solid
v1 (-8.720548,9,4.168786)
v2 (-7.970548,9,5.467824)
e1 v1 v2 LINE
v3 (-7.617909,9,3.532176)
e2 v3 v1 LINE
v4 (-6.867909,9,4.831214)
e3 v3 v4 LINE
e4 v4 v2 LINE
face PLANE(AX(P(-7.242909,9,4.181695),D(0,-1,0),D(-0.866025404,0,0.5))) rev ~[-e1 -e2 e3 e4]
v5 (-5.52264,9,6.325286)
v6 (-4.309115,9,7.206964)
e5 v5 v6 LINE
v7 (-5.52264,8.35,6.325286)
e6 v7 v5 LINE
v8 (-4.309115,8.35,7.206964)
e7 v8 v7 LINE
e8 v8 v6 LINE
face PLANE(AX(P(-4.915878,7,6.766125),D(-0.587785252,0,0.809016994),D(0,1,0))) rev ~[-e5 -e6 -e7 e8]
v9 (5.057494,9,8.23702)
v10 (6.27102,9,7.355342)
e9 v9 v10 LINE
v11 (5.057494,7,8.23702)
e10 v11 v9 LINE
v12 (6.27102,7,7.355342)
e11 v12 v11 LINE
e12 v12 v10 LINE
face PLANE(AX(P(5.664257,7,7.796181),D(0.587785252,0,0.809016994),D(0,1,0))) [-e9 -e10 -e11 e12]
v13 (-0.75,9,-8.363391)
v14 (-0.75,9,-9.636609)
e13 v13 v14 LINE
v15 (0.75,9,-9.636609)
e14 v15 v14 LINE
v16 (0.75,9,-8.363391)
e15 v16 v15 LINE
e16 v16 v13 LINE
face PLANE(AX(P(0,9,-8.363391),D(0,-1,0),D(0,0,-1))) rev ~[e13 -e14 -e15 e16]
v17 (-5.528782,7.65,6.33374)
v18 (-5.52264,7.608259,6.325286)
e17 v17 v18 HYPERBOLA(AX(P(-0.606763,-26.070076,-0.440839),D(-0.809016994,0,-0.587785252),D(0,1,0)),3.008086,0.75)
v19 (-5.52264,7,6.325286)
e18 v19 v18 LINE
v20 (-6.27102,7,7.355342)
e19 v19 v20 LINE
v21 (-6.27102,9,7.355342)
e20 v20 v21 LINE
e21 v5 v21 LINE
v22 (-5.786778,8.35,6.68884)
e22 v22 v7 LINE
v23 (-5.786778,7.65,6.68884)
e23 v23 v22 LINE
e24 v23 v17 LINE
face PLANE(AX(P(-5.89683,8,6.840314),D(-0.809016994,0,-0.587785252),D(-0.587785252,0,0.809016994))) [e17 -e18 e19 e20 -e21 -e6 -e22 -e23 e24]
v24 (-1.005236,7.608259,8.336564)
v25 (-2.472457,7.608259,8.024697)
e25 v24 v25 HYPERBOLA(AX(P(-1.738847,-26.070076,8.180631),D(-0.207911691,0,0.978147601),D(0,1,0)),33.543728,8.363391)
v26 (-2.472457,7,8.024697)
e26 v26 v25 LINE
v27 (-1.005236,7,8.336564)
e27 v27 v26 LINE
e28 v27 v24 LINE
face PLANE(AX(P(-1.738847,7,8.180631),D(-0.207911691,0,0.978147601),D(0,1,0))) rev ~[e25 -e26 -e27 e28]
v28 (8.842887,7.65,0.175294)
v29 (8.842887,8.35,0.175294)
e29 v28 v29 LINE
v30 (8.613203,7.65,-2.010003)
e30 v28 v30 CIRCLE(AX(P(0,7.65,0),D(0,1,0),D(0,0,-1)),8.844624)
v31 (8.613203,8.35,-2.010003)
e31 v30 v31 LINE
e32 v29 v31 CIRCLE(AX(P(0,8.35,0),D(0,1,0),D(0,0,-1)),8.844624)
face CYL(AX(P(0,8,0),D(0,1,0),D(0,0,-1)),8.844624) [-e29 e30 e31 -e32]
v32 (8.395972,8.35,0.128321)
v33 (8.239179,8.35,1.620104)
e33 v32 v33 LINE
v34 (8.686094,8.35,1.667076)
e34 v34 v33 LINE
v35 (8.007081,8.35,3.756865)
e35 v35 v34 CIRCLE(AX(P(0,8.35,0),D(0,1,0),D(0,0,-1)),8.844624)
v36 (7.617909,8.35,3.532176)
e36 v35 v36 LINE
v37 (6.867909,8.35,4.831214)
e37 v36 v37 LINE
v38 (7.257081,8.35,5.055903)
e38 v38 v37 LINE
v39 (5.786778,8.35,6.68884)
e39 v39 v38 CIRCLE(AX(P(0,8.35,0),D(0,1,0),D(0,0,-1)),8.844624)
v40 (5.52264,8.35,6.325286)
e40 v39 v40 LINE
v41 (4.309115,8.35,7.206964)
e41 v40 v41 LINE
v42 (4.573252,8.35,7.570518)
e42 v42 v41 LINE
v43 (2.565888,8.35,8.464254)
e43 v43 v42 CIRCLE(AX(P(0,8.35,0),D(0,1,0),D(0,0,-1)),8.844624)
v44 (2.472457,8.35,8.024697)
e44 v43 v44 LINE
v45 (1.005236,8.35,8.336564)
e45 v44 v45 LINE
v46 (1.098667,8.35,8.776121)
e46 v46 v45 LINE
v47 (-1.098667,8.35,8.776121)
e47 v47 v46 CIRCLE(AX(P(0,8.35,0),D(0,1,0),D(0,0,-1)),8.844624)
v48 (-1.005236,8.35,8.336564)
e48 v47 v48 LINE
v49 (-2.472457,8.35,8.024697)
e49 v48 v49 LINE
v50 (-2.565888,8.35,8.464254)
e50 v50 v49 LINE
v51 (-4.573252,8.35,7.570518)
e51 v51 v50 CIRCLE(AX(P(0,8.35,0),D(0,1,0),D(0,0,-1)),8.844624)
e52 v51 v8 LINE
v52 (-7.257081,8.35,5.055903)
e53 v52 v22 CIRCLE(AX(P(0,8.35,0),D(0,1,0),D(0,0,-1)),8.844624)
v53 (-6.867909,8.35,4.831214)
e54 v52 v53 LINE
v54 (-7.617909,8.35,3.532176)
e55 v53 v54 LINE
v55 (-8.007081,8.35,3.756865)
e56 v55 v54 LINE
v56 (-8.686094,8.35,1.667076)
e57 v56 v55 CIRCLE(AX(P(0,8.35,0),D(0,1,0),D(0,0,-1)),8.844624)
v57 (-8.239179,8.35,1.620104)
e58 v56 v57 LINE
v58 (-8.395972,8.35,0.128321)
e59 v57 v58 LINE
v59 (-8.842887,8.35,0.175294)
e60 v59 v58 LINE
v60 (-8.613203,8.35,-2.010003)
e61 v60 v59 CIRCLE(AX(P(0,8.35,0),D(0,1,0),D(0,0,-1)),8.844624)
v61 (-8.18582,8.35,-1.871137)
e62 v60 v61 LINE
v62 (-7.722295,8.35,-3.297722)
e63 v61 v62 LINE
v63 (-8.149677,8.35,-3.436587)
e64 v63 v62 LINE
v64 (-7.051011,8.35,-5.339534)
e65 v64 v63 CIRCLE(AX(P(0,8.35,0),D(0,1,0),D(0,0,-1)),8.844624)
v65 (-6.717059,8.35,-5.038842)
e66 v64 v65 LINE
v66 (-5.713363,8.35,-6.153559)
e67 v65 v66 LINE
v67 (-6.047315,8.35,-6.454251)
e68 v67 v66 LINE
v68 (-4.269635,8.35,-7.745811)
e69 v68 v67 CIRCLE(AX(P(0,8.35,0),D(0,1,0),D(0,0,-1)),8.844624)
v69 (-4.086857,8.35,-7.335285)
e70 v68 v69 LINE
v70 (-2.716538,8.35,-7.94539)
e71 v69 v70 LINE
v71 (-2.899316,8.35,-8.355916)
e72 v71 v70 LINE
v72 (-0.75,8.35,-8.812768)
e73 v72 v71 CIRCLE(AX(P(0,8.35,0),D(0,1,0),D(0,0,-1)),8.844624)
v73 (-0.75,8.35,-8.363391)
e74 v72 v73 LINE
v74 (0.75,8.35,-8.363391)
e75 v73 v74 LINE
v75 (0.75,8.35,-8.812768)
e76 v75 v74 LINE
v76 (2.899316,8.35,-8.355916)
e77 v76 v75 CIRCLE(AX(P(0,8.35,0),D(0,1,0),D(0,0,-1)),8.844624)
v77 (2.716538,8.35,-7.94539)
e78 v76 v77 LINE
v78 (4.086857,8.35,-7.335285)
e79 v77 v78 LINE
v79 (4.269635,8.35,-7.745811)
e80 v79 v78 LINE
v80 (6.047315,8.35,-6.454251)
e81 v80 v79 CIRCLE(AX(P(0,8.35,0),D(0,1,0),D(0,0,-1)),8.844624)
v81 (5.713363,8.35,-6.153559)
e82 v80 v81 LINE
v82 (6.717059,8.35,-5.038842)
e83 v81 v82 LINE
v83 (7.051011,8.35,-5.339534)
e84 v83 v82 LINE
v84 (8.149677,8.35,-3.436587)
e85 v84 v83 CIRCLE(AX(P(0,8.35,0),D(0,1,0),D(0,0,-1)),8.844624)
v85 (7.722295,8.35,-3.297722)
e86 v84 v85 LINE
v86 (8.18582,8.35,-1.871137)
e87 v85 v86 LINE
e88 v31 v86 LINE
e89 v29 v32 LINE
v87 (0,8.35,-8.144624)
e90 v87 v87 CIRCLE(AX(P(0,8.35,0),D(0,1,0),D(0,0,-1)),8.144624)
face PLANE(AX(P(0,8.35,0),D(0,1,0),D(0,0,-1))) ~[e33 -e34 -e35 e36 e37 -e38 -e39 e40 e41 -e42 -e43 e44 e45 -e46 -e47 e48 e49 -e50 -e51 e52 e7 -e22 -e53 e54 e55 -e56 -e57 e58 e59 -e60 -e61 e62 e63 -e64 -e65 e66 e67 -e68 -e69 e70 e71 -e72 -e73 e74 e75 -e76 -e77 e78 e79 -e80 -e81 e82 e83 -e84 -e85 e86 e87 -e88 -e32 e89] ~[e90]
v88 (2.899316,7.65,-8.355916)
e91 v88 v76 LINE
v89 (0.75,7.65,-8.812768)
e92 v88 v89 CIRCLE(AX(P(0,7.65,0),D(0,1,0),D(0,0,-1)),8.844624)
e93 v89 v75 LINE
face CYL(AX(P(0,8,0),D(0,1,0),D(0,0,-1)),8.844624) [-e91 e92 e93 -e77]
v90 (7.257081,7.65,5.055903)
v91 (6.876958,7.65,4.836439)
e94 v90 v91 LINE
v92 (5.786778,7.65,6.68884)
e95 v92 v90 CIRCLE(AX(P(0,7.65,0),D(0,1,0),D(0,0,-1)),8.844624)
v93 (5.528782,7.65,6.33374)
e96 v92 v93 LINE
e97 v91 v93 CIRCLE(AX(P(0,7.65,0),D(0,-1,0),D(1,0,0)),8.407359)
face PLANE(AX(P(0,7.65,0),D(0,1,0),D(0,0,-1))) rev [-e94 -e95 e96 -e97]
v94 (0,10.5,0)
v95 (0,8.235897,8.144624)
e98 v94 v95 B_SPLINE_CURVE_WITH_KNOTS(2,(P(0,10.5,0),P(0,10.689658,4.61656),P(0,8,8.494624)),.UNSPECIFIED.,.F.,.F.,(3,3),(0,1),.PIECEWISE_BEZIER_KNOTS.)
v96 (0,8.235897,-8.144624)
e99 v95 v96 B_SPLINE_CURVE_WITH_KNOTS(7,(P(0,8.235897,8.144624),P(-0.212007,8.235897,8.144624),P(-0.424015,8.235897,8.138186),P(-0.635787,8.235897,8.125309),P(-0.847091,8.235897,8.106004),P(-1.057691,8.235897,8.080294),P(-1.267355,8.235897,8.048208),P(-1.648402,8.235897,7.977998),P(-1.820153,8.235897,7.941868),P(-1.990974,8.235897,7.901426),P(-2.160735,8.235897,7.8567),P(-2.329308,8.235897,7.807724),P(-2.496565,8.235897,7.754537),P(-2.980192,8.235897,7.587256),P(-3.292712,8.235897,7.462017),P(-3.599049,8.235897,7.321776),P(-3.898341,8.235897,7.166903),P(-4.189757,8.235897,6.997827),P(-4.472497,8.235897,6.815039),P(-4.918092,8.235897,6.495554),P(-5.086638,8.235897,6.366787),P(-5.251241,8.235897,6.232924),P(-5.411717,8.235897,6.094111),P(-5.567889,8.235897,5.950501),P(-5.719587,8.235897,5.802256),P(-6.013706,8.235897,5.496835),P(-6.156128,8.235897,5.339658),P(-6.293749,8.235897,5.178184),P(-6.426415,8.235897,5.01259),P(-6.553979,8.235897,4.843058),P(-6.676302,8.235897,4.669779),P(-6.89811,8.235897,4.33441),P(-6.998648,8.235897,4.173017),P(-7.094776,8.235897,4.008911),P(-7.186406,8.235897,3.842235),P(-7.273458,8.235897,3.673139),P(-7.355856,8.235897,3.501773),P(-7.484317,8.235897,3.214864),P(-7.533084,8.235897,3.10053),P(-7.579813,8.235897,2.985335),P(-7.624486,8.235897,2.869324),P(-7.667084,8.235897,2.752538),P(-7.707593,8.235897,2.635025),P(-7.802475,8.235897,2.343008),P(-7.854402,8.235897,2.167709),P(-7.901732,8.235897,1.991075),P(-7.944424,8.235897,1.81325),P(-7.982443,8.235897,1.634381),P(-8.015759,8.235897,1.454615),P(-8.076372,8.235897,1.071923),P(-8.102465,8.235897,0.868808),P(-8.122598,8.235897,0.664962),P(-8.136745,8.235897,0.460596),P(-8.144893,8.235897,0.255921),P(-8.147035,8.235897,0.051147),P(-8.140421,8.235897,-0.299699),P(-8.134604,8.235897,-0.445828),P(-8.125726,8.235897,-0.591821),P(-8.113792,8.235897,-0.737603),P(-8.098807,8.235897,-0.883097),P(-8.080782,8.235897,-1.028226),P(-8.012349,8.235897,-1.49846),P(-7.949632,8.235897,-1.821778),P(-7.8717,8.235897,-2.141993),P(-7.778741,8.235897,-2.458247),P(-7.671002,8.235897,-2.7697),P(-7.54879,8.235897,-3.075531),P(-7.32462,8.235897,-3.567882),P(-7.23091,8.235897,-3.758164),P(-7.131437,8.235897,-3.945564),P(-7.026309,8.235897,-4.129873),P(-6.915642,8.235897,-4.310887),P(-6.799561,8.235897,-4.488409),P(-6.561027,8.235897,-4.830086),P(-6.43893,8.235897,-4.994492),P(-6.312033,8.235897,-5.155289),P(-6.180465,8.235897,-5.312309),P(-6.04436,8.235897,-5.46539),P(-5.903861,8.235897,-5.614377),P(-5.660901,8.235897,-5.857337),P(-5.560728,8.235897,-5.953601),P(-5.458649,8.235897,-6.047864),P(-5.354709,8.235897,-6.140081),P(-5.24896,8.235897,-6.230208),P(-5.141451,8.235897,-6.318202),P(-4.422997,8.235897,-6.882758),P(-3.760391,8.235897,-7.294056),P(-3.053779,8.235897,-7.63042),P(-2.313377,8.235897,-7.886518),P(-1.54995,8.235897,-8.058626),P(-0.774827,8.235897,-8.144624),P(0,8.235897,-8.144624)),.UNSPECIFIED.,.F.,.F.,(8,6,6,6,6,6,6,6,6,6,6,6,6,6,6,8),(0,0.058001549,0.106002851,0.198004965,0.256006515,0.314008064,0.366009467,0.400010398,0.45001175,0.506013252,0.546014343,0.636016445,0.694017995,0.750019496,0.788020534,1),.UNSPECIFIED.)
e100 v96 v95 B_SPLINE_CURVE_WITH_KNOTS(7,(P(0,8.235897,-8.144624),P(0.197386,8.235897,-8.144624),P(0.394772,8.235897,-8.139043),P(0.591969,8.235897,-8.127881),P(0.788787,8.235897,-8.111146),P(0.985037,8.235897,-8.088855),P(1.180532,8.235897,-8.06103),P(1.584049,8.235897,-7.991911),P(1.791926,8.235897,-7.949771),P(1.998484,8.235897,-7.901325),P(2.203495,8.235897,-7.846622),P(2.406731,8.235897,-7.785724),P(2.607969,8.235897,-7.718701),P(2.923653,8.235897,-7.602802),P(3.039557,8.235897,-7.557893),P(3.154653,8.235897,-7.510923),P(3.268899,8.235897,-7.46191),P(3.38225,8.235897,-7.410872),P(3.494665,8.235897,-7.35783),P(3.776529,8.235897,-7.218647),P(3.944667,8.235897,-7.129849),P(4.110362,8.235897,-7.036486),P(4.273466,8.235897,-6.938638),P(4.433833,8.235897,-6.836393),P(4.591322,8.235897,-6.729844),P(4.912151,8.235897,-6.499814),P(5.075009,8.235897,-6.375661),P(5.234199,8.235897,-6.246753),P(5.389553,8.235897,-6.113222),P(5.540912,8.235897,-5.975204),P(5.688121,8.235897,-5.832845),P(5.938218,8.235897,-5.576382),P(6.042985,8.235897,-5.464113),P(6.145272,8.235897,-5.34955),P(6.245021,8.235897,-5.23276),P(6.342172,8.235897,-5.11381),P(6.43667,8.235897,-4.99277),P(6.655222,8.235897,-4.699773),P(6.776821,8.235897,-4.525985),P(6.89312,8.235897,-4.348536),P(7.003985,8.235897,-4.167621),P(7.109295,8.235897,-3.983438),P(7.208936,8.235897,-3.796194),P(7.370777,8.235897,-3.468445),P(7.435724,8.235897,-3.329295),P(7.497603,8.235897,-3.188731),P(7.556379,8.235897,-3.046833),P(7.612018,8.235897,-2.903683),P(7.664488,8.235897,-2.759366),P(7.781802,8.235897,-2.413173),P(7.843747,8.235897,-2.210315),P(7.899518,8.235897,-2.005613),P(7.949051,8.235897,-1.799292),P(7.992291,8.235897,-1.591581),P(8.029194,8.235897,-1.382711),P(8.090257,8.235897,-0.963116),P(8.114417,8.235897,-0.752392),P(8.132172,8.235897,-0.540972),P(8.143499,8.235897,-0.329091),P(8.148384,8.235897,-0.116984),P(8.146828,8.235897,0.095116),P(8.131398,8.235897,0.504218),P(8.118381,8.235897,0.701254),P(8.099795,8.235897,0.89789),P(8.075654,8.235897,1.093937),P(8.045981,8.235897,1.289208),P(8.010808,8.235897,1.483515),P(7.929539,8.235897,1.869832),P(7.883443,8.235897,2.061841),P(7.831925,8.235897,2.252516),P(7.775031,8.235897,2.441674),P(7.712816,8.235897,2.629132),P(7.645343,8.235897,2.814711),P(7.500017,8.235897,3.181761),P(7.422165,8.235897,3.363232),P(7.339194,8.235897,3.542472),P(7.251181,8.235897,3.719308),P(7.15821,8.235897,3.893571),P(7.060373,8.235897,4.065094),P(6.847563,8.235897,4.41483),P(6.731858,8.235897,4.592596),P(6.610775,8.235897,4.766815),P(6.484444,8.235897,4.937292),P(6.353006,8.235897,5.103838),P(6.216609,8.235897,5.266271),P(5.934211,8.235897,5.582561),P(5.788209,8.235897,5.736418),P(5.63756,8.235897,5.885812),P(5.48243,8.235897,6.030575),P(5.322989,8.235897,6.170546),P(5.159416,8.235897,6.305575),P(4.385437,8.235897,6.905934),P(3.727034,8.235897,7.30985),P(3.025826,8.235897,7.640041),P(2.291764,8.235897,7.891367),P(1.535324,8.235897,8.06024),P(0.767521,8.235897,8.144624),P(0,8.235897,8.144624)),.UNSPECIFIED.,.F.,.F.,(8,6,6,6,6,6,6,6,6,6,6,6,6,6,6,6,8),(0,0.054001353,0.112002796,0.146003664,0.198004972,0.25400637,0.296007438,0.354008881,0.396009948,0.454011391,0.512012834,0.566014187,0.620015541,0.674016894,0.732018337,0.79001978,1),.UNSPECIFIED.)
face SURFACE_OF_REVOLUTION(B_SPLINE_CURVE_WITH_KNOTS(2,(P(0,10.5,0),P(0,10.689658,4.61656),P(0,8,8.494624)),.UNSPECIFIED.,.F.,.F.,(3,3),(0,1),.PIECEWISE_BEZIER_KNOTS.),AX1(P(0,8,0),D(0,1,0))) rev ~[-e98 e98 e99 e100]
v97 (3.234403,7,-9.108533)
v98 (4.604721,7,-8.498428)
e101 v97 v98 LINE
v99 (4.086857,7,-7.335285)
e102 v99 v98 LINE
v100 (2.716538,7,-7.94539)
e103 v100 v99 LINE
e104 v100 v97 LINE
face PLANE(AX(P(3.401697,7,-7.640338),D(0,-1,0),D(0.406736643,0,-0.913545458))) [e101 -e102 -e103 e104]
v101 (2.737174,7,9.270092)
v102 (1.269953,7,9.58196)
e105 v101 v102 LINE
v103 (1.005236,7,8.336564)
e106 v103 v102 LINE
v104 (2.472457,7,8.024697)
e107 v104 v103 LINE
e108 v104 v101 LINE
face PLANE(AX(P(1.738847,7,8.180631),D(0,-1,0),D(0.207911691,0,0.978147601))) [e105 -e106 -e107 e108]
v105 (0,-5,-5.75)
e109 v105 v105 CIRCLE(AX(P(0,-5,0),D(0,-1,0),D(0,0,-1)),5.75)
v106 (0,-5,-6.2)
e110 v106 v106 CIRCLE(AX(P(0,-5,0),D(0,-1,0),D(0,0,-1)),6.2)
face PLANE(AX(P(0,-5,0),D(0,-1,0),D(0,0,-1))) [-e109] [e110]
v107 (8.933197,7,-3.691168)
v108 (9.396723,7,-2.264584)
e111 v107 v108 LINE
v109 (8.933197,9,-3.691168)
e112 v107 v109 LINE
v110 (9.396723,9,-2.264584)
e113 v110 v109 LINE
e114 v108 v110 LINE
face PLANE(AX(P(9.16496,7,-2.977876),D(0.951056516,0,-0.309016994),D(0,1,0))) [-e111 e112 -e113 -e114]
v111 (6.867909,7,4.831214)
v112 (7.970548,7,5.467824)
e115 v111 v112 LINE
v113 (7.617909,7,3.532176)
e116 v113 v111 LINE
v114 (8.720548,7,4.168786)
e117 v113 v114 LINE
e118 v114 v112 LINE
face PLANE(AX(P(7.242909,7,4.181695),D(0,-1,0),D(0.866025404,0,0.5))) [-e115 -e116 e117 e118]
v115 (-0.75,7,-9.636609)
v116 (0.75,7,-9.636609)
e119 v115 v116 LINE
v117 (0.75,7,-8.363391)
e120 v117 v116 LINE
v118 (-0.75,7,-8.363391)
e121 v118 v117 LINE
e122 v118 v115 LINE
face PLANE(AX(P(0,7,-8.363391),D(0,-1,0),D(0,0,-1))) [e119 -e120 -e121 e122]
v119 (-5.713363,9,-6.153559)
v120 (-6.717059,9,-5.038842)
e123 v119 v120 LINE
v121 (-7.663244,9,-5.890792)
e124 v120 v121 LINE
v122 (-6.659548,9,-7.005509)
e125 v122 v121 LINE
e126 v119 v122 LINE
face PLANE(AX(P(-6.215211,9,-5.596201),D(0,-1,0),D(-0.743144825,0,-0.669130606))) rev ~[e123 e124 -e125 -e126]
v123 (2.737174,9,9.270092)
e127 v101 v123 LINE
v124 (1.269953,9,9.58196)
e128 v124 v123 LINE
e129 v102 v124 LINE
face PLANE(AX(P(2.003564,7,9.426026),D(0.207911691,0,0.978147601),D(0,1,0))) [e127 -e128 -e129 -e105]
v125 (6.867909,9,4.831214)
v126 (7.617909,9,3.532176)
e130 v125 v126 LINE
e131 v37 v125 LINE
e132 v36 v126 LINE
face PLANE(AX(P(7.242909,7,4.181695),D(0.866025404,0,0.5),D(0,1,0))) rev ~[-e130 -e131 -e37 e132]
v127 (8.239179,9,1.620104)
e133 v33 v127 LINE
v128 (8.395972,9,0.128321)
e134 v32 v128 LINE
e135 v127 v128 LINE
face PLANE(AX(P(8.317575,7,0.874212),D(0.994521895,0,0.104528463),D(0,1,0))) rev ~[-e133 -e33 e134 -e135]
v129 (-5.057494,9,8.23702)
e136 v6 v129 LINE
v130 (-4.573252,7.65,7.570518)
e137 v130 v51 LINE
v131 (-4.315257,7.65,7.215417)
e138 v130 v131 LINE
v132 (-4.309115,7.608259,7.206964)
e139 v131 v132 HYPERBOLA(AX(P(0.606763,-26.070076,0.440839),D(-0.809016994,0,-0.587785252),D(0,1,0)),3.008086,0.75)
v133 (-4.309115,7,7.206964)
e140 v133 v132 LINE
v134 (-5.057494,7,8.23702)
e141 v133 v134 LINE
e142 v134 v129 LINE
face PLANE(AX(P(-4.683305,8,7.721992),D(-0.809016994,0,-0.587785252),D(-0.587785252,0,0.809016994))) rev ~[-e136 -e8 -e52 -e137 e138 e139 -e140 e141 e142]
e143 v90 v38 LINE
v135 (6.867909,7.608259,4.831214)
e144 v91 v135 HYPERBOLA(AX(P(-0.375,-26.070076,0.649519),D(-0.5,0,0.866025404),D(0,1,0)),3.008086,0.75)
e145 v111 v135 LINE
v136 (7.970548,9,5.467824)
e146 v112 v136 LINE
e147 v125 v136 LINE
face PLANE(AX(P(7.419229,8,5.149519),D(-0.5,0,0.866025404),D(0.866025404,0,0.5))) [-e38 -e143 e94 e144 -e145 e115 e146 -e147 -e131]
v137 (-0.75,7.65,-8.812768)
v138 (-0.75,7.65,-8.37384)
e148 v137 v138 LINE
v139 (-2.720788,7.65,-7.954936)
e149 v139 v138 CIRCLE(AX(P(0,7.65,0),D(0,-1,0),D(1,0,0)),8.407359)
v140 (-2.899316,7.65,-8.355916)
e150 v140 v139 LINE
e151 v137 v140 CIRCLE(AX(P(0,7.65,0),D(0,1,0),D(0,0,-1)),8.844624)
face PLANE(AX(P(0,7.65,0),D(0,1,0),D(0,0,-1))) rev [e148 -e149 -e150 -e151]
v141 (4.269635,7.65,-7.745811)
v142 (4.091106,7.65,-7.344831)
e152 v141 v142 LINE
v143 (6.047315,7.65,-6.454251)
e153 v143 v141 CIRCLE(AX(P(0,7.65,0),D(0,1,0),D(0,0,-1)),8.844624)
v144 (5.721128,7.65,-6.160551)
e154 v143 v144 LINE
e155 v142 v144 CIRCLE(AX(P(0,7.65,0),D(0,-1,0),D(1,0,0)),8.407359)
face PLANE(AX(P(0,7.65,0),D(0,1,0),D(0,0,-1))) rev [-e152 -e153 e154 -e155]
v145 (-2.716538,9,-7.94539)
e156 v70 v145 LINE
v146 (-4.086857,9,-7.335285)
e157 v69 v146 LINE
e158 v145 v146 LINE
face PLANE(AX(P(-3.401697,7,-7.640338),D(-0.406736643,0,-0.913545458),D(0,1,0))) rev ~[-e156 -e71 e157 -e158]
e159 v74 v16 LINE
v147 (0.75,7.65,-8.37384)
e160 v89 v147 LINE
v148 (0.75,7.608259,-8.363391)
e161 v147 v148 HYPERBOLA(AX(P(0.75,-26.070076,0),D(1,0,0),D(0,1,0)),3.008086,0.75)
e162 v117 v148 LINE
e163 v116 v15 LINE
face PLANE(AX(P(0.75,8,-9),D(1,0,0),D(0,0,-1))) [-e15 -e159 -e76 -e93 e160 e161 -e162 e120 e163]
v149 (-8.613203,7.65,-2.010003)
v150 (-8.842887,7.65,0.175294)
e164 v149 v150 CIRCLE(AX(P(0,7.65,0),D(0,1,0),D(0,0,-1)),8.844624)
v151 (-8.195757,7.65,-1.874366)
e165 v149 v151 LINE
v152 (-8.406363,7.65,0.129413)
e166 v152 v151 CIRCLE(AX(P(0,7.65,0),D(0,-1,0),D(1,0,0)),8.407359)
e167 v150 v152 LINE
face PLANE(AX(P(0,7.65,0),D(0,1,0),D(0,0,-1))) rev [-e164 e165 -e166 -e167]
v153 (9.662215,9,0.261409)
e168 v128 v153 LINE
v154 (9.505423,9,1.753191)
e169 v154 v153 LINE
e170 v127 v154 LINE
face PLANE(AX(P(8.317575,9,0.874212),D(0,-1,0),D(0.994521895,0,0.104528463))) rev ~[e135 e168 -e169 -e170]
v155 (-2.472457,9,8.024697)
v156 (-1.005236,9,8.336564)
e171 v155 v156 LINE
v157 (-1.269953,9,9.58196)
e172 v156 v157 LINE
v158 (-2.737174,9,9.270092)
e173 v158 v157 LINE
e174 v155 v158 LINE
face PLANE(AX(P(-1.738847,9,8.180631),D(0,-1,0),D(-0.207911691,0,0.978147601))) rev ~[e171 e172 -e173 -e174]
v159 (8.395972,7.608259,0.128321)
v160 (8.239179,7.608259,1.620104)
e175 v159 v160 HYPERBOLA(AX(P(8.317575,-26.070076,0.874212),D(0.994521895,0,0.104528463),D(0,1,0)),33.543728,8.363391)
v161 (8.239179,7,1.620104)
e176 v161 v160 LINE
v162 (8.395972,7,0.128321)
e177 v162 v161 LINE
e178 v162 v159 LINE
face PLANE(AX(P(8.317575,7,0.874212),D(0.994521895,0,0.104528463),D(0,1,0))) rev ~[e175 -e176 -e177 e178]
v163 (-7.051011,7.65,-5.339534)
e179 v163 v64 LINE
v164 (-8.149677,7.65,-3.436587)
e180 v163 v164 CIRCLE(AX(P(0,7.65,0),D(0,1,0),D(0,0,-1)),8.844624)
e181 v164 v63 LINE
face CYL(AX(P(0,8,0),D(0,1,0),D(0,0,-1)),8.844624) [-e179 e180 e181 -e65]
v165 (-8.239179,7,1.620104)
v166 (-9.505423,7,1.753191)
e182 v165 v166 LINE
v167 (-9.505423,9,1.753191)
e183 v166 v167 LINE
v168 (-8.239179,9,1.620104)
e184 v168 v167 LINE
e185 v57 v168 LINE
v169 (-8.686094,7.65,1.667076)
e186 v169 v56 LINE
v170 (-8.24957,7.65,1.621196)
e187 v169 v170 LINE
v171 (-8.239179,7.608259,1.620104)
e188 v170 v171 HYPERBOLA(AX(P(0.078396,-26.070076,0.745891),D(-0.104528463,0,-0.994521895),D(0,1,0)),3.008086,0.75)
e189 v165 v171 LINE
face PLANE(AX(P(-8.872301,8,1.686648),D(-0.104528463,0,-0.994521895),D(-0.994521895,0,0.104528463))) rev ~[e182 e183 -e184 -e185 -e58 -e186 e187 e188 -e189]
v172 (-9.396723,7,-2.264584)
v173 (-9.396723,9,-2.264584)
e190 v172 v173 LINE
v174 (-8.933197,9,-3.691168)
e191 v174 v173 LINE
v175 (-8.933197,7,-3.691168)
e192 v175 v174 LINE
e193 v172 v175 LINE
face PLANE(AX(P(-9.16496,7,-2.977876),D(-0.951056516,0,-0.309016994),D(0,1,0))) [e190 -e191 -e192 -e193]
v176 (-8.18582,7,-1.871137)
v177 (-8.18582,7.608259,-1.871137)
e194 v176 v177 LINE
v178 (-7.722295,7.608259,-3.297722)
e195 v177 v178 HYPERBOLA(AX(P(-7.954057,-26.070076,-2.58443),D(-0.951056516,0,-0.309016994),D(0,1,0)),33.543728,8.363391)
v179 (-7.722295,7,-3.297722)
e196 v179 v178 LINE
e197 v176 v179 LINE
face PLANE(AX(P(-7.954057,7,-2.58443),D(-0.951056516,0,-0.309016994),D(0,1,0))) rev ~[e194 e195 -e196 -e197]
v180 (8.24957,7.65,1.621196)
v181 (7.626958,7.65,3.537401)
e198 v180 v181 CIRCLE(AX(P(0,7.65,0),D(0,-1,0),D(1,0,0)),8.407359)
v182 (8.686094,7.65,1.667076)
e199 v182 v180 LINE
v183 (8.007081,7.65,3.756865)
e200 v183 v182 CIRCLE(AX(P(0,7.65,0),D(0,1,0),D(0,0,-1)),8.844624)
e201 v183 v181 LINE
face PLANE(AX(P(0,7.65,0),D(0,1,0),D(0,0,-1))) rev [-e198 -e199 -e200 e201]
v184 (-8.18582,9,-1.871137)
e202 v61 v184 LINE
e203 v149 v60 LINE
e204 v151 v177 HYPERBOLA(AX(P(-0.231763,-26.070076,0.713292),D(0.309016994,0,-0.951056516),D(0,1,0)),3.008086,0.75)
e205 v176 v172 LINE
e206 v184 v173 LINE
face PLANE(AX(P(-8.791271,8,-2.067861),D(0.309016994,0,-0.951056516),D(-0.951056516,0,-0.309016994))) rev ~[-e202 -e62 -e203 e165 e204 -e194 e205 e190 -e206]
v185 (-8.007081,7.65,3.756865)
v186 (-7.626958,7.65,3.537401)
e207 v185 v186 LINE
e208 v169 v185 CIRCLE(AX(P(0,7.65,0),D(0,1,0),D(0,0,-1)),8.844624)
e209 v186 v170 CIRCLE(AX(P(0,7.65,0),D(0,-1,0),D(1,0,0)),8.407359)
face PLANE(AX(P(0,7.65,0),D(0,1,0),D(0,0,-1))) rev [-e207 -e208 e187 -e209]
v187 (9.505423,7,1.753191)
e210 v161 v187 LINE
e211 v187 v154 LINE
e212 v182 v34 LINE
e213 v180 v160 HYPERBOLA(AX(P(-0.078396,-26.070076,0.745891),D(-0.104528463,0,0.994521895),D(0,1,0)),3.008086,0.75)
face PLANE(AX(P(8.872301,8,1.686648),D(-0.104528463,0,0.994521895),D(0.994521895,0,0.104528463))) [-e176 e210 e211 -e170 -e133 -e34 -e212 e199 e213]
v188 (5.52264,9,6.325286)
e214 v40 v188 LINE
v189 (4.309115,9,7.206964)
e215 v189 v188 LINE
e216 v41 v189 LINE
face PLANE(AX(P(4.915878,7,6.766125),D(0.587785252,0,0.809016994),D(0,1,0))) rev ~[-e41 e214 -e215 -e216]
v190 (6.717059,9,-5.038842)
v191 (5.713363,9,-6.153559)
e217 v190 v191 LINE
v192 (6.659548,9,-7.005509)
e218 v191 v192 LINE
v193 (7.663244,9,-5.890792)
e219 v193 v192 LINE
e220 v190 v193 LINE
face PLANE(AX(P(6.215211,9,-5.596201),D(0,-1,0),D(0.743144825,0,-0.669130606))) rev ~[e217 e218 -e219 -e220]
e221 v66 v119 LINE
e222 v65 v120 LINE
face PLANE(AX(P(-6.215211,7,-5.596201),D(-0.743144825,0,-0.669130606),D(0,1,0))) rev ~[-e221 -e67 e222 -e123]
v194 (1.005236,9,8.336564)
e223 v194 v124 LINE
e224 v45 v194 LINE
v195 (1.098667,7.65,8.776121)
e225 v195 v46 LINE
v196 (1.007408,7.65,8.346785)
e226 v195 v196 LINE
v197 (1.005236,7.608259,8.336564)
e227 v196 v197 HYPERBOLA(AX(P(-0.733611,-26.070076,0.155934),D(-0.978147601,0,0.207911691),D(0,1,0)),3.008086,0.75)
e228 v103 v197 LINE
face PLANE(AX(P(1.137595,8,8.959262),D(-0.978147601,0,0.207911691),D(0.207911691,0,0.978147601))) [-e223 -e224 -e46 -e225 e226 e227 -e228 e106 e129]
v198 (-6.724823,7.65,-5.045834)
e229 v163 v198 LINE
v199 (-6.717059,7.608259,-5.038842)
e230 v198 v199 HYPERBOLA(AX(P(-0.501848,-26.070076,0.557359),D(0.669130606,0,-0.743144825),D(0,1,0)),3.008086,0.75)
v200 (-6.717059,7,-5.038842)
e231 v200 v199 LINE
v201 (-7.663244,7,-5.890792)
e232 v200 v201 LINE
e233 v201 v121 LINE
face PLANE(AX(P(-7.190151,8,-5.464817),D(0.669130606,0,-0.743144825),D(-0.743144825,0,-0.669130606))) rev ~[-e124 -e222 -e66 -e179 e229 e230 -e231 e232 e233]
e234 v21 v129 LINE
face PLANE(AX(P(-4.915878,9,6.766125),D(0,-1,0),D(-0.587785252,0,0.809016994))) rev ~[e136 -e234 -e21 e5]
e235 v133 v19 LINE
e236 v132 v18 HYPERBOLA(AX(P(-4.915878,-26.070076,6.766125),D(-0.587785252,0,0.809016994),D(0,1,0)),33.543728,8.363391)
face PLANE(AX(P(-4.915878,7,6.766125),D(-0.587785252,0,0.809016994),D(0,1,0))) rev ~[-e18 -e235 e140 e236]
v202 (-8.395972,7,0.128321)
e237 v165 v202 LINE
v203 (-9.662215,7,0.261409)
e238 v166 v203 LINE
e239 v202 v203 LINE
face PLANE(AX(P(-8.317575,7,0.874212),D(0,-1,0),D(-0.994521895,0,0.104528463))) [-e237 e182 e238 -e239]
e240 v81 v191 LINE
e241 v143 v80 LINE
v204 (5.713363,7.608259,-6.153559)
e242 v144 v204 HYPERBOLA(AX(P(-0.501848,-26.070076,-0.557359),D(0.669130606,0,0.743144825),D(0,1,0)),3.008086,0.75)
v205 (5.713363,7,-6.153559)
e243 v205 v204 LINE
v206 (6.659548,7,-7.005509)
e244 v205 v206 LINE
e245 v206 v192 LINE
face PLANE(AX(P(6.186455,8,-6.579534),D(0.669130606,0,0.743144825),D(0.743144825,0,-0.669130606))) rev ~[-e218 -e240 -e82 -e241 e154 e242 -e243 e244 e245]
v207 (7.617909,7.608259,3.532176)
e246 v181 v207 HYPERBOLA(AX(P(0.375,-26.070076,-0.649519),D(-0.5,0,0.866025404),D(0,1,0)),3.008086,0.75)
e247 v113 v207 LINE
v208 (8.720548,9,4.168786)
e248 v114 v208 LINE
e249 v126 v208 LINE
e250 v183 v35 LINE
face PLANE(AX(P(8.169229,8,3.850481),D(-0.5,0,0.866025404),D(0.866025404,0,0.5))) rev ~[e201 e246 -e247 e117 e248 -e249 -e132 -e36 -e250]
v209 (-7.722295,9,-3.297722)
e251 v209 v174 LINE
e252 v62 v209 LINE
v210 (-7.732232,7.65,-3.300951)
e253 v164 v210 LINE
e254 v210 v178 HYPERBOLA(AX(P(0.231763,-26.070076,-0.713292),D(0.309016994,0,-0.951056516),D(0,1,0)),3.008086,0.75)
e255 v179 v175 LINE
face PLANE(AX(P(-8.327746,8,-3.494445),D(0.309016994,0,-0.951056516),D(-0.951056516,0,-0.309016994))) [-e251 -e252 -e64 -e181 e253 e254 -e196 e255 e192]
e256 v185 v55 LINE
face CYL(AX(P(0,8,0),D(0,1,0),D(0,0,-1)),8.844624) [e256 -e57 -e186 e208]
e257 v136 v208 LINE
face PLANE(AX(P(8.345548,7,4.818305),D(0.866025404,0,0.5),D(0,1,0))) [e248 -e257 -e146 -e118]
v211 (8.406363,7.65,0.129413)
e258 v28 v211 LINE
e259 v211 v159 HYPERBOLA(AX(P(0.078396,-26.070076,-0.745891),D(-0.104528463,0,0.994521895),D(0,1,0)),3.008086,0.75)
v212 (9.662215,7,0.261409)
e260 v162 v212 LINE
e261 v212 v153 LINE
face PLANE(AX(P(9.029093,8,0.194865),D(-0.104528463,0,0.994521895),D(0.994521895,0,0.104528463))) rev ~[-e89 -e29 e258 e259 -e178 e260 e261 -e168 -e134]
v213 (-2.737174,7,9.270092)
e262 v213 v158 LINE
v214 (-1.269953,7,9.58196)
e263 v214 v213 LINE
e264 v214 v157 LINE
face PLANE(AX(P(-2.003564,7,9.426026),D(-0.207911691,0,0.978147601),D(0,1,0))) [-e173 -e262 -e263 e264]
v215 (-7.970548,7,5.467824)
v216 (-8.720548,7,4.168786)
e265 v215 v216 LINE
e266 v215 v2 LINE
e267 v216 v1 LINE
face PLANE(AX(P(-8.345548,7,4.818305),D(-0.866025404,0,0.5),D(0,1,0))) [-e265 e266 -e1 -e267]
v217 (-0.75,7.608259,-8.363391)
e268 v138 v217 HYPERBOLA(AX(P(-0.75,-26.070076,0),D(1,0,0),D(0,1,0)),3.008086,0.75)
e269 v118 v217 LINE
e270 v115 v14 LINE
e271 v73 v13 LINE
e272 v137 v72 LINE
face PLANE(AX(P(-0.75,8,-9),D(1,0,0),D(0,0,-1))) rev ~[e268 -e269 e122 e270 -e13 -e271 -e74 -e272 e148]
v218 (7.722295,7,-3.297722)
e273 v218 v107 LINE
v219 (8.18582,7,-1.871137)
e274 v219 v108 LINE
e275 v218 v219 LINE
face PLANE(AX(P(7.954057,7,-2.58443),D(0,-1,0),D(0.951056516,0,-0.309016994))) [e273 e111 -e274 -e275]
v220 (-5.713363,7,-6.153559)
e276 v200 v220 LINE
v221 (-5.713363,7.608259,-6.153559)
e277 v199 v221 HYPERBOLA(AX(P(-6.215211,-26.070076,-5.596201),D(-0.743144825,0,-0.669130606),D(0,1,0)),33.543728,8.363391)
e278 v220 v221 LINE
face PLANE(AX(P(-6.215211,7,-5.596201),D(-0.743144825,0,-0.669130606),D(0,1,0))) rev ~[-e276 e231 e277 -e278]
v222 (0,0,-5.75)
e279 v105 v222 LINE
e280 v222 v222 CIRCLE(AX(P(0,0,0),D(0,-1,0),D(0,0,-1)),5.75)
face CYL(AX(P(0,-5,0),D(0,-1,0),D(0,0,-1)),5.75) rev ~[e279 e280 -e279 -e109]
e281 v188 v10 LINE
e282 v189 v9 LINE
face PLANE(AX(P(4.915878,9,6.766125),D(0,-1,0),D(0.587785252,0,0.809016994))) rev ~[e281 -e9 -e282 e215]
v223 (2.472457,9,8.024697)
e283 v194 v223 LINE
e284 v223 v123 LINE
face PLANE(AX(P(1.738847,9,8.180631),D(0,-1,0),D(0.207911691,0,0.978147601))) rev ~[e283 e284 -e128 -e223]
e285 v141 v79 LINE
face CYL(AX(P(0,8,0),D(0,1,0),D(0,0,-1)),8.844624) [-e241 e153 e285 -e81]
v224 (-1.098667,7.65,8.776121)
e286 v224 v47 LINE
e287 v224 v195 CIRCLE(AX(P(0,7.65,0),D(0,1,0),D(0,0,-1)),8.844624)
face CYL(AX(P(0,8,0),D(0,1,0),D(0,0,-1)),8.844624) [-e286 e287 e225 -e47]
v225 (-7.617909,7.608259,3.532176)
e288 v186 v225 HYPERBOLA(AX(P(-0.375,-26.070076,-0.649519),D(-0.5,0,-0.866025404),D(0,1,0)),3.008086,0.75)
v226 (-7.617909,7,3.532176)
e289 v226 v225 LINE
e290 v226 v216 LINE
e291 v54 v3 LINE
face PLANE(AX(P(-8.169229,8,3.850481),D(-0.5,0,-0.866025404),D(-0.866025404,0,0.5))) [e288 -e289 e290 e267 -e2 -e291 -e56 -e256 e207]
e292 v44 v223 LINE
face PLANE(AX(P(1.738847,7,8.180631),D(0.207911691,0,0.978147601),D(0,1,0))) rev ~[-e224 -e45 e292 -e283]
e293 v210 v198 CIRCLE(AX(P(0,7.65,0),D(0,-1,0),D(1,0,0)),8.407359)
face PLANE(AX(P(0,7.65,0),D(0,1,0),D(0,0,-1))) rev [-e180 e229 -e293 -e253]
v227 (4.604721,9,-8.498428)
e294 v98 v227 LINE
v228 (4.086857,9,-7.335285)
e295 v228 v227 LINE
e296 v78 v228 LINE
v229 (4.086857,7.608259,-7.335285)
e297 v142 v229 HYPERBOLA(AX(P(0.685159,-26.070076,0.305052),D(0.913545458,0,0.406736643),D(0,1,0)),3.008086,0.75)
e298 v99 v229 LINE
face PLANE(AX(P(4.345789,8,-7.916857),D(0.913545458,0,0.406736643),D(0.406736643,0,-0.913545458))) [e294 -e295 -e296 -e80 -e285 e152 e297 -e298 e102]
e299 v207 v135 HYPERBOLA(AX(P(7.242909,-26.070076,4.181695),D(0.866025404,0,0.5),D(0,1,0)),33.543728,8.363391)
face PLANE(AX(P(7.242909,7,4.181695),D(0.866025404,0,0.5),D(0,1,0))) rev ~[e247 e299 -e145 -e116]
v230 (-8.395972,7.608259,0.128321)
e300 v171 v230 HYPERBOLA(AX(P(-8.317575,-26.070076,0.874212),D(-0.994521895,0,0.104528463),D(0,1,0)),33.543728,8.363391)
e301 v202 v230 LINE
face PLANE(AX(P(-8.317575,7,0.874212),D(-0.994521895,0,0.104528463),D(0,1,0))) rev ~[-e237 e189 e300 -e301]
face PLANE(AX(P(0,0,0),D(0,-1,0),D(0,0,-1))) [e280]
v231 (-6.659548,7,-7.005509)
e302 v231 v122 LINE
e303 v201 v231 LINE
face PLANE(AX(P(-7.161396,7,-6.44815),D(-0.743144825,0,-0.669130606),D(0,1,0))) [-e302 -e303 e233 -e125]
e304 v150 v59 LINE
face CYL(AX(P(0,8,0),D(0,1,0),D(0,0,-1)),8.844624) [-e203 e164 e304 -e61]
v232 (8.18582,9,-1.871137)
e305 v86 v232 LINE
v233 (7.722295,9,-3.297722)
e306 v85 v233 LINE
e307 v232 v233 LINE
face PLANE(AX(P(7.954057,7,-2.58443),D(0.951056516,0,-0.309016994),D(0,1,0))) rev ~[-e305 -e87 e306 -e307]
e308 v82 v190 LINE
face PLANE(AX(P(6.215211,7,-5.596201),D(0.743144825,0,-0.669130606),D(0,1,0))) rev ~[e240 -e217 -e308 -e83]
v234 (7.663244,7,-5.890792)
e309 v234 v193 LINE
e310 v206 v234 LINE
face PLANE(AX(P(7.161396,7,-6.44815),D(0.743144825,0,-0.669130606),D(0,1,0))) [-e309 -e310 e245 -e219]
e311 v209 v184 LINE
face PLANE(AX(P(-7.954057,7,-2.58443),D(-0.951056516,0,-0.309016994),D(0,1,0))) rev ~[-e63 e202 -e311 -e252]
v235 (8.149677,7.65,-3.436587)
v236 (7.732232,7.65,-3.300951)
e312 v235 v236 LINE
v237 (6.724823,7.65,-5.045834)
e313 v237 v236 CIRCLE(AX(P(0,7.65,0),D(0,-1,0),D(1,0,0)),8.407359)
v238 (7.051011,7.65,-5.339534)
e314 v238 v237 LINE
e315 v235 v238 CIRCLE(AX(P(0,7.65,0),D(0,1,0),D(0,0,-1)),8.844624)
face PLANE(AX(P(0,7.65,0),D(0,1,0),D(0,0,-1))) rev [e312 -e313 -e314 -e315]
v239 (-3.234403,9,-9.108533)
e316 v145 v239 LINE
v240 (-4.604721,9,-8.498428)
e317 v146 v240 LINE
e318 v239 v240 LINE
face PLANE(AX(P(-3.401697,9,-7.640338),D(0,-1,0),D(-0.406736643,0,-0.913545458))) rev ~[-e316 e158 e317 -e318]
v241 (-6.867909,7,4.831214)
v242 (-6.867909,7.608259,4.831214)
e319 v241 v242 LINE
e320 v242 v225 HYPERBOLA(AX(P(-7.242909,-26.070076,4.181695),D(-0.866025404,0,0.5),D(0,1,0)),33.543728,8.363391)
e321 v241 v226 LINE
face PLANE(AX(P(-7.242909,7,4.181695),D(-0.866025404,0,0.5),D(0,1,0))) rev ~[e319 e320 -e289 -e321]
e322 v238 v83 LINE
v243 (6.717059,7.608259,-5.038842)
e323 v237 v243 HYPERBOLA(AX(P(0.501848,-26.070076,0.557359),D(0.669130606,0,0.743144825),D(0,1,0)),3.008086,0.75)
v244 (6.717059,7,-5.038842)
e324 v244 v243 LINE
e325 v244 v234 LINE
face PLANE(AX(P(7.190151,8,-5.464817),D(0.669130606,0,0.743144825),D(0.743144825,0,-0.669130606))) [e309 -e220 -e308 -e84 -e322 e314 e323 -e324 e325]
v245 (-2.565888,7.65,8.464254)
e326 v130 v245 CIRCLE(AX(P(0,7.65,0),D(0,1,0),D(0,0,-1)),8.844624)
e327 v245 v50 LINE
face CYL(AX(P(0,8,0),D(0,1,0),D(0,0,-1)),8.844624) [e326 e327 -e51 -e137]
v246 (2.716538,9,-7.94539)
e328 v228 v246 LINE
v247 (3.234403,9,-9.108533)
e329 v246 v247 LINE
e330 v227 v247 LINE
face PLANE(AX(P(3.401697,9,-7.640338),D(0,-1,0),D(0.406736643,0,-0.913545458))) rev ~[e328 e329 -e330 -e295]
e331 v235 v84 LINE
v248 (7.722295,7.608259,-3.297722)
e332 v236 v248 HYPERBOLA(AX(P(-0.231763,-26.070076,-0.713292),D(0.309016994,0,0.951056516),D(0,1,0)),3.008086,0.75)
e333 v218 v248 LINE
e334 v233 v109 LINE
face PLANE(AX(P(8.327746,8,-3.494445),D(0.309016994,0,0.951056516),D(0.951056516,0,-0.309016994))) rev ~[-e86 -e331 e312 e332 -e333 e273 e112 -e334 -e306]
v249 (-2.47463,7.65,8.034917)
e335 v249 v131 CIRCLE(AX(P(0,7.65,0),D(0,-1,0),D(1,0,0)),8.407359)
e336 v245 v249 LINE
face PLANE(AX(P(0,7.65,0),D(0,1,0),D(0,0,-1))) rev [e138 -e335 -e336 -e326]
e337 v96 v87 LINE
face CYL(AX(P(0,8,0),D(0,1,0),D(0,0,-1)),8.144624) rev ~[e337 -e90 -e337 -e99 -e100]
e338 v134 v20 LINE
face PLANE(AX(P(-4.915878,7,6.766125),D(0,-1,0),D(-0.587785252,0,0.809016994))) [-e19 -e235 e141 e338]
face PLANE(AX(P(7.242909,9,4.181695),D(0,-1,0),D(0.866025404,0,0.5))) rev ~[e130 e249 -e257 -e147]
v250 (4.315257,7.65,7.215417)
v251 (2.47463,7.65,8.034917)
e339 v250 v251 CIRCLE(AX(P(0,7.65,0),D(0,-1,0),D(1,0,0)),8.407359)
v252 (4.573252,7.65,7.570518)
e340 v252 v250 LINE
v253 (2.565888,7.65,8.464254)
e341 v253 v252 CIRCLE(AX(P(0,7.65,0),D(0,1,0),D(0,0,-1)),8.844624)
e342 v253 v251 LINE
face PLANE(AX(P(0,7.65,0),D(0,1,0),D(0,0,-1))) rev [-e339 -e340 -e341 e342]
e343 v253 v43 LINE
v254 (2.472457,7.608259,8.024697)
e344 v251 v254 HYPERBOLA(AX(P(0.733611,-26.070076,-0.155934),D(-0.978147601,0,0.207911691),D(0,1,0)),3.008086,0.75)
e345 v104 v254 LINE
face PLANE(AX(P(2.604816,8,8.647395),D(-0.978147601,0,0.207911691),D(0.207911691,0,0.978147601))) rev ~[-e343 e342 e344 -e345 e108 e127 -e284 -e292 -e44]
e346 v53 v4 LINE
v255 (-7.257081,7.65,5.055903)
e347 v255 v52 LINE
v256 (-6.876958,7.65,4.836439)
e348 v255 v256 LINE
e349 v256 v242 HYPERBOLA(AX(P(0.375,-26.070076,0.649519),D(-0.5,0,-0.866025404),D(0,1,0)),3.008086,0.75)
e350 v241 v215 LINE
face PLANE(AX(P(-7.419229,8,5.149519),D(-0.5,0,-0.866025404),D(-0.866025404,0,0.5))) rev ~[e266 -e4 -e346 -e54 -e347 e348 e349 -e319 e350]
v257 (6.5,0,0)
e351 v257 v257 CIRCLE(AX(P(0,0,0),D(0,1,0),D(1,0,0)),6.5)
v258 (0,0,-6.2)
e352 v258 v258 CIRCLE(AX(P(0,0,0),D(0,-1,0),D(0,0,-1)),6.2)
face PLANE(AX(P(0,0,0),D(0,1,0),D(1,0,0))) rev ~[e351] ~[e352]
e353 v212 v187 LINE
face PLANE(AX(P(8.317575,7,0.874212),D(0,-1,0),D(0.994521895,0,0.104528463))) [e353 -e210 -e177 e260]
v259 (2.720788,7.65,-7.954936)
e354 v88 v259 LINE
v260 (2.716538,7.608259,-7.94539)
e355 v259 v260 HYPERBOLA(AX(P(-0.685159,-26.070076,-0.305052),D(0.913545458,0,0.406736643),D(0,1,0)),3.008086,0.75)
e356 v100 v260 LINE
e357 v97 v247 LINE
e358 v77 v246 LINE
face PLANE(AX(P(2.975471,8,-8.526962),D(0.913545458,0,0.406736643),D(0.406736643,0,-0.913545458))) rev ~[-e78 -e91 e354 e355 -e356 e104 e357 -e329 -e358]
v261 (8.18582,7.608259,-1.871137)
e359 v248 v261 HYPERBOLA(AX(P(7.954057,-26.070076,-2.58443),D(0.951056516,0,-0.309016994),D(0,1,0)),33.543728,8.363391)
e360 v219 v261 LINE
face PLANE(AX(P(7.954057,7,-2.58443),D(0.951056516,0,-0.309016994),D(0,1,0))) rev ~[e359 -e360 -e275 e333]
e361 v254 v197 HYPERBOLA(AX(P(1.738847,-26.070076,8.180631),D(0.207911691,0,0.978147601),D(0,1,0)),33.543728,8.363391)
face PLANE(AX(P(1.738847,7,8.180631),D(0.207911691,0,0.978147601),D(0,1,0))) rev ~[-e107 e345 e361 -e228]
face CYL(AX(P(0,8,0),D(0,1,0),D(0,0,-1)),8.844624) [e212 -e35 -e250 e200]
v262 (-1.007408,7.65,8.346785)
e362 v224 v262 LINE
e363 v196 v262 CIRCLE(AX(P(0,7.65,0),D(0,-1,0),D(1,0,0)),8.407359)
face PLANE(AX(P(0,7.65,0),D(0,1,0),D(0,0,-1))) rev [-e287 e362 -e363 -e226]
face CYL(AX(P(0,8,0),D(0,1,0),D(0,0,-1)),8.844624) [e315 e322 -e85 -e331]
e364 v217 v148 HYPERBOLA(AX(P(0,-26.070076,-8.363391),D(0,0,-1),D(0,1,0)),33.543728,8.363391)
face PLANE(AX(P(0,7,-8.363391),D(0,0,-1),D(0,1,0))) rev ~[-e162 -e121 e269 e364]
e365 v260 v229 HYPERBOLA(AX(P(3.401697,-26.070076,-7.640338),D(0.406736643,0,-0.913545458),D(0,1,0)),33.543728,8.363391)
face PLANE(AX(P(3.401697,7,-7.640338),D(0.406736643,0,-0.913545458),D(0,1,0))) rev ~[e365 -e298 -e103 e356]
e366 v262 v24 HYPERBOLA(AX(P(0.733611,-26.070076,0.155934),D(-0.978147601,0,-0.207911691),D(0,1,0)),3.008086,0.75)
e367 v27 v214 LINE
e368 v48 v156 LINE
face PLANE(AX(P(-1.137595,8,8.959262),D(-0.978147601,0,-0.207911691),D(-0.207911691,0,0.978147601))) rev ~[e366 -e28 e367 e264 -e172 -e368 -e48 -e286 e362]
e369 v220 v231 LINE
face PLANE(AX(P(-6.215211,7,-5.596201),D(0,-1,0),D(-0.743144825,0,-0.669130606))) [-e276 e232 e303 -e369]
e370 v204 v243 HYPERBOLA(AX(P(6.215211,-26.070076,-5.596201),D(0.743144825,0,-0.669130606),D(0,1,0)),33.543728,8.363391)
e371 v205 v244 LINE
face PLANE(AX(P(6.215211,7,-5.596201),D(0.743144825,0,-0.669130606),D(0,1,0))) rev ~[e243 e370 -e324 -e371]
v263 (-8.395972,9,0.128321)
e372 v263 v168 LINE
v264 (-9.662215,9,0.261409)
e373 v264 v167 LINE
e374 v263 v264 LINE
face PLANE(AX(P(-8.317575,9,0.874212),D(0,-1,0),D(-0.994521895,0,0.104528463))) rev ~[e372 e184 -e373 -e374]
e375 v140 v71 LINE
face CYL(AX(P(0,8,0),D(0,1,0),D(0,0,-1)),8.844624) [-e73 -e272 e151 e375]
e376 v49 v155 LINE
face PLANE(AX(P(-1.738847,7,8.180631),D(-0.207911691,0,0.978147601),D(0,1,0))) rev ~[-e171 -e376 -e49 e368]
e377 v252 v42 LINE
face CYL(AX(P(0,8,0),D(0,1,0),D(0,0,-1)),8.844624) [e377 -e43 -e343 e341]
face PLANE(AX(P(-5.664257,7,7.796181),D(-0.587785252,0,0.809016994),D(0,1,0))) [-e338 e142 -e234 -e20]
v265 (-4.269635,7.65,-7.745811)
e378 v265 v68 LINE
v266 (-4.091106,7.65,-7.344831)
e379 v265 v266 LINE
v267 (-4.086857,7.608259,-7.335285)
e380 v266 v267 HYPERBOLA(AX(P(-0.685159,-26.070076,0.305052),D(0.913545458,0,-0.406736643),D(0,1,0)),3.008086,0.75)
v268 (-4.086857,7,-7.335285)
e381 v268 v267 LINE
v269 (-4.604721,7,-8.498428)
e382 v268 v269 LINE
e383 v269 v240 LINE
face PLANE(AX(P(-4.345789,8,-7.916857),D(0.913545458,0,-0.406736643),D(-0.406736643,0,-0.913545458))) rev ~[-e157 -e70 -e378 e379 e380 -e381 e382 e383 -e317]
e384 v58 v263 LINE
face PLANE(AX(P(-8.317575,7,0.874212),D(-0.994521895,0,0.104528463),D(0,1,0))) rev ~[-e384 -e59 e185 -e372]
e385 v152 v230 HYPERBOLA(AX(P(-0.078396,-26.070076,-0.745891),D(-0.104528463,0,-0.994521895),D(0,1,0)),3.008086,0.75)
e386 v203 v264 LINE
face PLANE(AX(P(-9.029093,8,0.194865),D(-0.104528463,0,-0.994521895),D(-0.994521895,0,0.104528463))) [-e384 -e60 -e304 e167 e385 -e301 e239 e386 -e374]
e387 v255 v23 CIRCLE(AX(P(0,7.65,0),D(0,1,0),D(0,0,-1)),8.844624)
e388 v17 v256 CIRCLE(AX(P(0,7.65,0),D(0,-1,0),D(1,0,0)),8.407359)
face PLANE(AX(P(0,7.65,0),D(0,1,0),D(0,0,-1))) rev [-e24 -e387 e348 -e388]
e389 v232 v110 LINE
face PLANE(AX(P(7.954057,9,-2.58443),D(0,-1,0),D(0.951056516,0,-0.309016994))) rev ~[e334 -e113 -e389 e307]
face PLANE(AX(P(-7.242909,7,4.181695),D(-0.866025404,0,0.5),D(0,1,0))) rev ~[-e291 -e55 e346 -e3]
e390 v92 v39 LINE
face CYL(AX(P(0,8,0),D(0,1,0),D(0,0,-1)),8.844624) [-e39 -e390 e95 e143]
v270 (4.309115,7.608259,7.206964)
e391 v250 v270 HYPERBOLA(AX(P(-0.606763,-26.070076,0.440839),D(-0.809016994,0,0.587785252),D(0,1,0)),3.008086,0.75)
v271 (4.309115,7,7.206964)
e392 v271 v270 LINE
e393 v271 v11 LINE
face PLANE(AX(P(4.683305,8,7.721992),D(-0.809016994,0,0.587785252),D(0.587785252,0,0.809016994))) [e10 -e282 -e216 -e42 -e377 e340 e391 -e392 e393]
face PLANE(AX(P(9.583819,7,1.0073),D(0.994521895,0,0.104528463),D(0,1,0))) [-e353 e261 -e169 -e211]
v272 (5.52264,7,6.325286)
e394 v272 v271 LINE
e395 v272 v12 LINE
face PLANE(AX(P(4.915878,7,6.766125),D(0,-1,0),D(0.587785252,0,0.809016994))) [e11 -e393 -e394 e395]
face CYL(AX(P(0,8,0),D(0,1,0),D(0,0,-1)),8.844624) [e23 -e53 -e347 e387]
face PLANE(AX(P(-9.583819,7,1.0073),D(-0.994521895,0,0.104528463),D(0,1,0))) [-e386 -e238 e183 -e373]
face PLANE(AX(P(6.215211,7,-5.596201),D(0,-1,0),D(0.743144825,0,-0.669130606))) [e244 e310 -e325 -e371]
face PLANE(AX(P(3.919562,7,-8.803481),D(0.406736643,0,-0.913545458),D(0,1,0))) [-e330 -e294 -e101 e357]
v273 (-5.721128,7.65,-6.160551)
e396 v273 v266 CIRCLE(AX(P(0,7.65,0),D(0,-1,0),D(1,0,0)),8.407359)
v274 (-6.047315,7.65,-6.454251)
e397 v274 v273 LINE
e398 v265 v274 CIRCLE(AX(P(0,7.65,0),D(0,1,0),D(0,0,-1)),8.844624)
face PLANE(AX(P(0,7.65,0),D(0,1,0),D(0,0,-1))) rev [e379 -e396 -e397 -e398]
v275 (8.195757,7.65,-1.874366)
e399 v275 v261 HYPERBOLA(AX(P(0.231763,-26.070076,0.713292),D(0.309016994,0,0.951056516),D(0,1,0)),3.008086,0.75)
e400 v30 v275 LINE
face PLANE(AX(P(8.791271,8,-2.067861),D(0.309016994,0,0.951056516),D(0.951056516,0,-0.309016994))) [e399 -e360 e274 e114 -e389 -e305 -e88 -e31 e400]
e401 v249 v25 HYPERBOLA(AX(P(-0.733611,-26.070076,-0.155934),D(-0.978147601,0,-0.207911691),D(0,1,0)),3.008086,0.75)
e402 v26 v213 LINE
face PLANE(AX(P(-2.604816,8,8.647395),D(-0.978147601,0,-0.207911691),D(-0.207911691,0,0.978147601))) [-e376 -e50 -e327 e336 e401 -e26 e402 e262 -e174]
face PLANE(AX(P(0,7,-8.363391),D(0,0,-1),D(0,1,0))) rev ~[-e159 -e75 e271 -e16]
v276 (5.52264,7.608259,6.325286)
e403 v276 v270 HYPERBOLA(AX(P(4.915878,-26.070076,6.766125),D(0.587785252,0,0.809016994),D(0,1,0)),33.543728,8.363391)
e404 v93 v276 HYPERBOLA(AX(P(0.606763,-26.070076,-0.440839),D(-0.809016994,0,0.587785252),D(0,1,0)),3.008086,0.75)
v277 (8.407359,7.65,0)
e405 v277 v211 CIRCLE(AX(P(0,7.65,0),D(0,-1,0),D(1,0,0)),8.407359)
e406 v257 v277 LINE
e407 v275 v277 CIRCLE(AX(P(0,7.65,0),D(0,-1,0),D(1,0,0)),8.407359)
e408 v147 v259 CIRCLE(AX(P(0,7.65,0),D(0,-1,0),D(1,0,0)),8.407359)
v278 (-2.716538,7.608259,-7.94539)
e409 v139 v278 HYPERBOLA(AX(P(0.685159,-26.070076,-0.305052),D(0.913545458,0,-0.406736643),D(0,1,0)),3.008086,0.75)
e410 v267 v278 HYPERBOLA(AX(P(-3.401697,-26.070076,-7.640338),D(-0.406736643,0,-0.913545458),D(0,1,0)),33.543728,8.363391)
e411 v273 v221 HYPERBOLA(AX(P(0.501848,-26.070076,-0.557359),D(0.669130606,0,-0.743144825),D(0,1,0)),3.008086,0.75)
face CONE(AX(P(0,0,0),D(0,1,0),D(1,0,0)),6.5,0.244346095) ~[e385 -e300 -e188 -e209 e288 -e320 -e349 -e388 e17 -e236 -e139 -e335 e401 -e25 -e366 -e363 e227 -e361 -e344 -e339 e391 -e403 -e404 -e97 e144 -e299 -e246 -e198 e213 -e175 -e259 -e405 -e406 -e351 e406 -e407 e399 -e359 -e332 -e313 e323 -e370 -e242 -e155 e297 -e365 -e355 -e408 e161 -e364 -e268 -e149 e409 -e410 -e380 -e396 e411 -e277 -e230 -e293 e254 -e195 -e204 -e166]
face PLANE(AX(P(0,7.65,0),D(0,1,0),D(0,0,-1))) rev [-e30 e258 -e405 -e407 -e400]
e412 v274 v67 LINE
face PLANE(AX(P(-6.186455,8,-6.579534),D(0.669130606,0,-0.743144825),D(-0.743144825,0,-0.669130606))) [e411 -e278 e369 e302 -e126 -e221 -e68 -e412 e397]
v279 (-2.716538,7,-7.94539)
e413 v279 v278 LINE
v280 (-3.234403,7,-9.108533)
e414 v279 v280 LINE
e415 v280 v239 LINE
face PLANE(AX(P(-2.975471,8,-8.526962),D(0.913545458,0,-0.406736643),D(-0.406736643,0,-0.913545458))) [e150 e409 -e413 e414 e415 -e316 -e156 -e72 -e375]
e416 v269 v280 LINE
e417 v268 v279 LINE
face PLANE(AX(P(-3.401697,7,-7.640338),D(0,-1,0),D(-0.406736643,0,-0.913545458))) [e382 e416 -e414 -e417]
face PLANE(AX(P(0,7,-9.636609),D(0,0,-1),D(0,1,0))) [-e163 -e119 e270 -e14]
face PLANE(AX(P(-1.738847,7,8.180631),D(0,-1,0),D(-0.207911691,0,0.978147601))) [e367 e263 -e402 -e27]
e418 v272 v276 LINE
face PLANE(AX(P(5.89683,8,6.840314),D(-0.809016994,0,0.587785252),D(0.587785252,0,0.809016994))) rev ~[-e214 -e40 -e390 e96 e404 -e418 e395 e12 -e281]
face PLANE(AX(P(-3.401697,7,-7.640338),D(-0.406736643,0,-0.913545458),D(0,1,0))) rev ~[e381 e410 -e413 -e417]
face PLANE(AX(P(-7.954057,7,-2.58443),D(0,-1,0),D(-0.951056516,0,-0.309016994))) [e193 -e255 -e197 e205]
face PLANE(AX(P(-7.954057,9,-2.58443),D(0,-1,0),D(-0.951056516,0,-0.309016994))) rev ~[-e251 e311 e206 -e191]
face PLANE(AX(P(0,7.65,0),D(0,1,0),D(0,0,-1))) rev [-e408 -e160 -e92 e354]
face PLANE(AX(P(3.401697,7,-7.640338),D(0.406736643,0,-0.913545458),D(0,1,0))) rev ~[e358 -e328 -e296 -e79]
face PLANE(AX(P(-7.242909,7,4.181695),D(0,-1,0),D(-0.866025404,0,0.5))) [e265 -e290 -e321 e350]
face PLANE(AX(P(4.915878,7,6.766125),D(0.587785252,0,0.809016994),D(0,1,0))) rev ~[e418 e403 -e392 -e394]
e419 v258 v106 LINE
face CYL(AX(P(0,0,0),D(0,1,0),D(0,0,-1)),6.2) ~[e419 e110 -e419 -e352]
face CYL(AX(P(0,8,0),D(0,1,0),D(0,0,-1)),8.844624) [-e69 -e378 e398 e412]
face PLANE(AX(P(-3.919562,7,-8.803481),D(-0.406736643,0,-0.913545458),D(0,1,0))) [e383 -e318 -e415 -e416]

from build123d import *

# Parameters (mm, degrees)
SKETCH1_R           = 6.5
BOSS_EXTRUDE1_DEPTH = 8
BOSS_EXTRUDE1_DRAFT = -14
SKETCH2_R           = 6.2
BOSS_EXTRUDE2_DEPTH = 5
SKETCH3_R           = 5.75
CUT_EXTRUDE1_DEPTH  = 5
SKETCH5_W           = 0.7
SKETCH5_H           = 0.7
SKETCH6_W           = 1.273218484
SKETCH6_H           = 2
BOSS_EXTRUDE4_DEPTH = 0.75
CIRPATTERN1_COUNT   = 15


with BuildPart() as part:
    # Sketch1 → Boss-Extrude1 (with draft: the straight prism first)
    with BuildSketch(Plane(origin=(0, 0, 0), x_dir=(1, 0, 0), z_dir=(0, 1, 0))):
        Circle(SKETCH1_R)
    extrude(amount=BOSS_EXTRUDE1_DEPTH)
    # Boss-Extrude1: the draft: its side faces are tilted about the plane it starts from
    boss_extrude1_sides = [part.faces().sort_by_distance(p)[0] for p in [
        (-6.5, 4, 0),
    ]]
    draft(boss_extrude1_sides, Plane(origin=(0, 0, 0), x_dir=(1, 0, 0), z_dir=(0, 1, 0)), BOSS_EXTRUDE1_DRAFT)

    # Sketch2 → Boss-Extrude2 (add)
    with BuildSketch(Plane.XZ):
        with Locations(Location((0, 0, 0), (0, 0, 270))):
            Circle(SKETCH2_R)
    extrude(amount=BOSS_EXTRUDE2_DEPTH)

    # Sketch3 → Cut-Extrude1 (cut)
    with BuildSketch(Plane.XZ.offset(5)):
        with Locations(Location((0, 0, 0), (0, 0, 270))):
            Circle(SKETCH3_R)
    extrude(amount=-CUT_EXTRUDE1_DEPTH, mode=Mode.SUBTRACT)

    # Sketch4 → Revolve1 (revolve)
    with BuildSketch(Plane(origin=(0, 0, 0), x_dir=(0, 0, -1), z_dir=(1, 0, 0)), mode=Mode.PRIVATE) as revolve1_sk:
        with BuildLine():
            Line((0, 8), (0, 10.5))
            add(Edge.make_bspline(
                [(0, 10.5), (4.616560174, 10.68965763), (8.494624023, 8)],
                knots=[0, 0, 0, 1, 1, 1], degree=2))
            Line((8.494624023, 8), (0, 8))
        make_face()
    revolve(revolve1_sk.sketch.rotate(Axis((0, 8, 0), (0, 1, 0)), 180), axis=Axis((0, 8, 0), (0, 1, 0)))

    # Sketch5 → Revolve2 (revolve)
    with BuildSketch(Plane(origin=(0, 0, 0), x_dir=(0, 0, -1), z_dir=(1, 0, 0))):
        with Locations((8.494624023, 8)):
            Rectangle(SKETCH5_W, SKETCH5_H)
    revolve(axis=Axis((0, -5.748475936, 0), (0, 1, 0)))

    # Sketch6 → Boss-Extrude4 (add, symmetric)
    with BuildSketch(Plane(origin=(0, 0, 0), x_dir=(0, 0, -1), z_dir=(1, 0, 0))):
        with Locations((9, 8)):
            Rectangle(SKETCH6_W, SKETCH6_H)
    boss_extrude4 = extrude(amount=BOSS_EXTRUDE4_DEPTH, both=True)

    # CirPattern1: Boss-Extrude4 ×15 about axis
    cirpattern1_axis = Axis((0, 0, 0), (0, 1, 0))
    for i in range(1, CIRPATTERN1_COUNT):
        add(boss_extrude4.rotate(cirpattern1_axis, i * 360 / CIRPATTERN1_COUNT))


solid = part.part
